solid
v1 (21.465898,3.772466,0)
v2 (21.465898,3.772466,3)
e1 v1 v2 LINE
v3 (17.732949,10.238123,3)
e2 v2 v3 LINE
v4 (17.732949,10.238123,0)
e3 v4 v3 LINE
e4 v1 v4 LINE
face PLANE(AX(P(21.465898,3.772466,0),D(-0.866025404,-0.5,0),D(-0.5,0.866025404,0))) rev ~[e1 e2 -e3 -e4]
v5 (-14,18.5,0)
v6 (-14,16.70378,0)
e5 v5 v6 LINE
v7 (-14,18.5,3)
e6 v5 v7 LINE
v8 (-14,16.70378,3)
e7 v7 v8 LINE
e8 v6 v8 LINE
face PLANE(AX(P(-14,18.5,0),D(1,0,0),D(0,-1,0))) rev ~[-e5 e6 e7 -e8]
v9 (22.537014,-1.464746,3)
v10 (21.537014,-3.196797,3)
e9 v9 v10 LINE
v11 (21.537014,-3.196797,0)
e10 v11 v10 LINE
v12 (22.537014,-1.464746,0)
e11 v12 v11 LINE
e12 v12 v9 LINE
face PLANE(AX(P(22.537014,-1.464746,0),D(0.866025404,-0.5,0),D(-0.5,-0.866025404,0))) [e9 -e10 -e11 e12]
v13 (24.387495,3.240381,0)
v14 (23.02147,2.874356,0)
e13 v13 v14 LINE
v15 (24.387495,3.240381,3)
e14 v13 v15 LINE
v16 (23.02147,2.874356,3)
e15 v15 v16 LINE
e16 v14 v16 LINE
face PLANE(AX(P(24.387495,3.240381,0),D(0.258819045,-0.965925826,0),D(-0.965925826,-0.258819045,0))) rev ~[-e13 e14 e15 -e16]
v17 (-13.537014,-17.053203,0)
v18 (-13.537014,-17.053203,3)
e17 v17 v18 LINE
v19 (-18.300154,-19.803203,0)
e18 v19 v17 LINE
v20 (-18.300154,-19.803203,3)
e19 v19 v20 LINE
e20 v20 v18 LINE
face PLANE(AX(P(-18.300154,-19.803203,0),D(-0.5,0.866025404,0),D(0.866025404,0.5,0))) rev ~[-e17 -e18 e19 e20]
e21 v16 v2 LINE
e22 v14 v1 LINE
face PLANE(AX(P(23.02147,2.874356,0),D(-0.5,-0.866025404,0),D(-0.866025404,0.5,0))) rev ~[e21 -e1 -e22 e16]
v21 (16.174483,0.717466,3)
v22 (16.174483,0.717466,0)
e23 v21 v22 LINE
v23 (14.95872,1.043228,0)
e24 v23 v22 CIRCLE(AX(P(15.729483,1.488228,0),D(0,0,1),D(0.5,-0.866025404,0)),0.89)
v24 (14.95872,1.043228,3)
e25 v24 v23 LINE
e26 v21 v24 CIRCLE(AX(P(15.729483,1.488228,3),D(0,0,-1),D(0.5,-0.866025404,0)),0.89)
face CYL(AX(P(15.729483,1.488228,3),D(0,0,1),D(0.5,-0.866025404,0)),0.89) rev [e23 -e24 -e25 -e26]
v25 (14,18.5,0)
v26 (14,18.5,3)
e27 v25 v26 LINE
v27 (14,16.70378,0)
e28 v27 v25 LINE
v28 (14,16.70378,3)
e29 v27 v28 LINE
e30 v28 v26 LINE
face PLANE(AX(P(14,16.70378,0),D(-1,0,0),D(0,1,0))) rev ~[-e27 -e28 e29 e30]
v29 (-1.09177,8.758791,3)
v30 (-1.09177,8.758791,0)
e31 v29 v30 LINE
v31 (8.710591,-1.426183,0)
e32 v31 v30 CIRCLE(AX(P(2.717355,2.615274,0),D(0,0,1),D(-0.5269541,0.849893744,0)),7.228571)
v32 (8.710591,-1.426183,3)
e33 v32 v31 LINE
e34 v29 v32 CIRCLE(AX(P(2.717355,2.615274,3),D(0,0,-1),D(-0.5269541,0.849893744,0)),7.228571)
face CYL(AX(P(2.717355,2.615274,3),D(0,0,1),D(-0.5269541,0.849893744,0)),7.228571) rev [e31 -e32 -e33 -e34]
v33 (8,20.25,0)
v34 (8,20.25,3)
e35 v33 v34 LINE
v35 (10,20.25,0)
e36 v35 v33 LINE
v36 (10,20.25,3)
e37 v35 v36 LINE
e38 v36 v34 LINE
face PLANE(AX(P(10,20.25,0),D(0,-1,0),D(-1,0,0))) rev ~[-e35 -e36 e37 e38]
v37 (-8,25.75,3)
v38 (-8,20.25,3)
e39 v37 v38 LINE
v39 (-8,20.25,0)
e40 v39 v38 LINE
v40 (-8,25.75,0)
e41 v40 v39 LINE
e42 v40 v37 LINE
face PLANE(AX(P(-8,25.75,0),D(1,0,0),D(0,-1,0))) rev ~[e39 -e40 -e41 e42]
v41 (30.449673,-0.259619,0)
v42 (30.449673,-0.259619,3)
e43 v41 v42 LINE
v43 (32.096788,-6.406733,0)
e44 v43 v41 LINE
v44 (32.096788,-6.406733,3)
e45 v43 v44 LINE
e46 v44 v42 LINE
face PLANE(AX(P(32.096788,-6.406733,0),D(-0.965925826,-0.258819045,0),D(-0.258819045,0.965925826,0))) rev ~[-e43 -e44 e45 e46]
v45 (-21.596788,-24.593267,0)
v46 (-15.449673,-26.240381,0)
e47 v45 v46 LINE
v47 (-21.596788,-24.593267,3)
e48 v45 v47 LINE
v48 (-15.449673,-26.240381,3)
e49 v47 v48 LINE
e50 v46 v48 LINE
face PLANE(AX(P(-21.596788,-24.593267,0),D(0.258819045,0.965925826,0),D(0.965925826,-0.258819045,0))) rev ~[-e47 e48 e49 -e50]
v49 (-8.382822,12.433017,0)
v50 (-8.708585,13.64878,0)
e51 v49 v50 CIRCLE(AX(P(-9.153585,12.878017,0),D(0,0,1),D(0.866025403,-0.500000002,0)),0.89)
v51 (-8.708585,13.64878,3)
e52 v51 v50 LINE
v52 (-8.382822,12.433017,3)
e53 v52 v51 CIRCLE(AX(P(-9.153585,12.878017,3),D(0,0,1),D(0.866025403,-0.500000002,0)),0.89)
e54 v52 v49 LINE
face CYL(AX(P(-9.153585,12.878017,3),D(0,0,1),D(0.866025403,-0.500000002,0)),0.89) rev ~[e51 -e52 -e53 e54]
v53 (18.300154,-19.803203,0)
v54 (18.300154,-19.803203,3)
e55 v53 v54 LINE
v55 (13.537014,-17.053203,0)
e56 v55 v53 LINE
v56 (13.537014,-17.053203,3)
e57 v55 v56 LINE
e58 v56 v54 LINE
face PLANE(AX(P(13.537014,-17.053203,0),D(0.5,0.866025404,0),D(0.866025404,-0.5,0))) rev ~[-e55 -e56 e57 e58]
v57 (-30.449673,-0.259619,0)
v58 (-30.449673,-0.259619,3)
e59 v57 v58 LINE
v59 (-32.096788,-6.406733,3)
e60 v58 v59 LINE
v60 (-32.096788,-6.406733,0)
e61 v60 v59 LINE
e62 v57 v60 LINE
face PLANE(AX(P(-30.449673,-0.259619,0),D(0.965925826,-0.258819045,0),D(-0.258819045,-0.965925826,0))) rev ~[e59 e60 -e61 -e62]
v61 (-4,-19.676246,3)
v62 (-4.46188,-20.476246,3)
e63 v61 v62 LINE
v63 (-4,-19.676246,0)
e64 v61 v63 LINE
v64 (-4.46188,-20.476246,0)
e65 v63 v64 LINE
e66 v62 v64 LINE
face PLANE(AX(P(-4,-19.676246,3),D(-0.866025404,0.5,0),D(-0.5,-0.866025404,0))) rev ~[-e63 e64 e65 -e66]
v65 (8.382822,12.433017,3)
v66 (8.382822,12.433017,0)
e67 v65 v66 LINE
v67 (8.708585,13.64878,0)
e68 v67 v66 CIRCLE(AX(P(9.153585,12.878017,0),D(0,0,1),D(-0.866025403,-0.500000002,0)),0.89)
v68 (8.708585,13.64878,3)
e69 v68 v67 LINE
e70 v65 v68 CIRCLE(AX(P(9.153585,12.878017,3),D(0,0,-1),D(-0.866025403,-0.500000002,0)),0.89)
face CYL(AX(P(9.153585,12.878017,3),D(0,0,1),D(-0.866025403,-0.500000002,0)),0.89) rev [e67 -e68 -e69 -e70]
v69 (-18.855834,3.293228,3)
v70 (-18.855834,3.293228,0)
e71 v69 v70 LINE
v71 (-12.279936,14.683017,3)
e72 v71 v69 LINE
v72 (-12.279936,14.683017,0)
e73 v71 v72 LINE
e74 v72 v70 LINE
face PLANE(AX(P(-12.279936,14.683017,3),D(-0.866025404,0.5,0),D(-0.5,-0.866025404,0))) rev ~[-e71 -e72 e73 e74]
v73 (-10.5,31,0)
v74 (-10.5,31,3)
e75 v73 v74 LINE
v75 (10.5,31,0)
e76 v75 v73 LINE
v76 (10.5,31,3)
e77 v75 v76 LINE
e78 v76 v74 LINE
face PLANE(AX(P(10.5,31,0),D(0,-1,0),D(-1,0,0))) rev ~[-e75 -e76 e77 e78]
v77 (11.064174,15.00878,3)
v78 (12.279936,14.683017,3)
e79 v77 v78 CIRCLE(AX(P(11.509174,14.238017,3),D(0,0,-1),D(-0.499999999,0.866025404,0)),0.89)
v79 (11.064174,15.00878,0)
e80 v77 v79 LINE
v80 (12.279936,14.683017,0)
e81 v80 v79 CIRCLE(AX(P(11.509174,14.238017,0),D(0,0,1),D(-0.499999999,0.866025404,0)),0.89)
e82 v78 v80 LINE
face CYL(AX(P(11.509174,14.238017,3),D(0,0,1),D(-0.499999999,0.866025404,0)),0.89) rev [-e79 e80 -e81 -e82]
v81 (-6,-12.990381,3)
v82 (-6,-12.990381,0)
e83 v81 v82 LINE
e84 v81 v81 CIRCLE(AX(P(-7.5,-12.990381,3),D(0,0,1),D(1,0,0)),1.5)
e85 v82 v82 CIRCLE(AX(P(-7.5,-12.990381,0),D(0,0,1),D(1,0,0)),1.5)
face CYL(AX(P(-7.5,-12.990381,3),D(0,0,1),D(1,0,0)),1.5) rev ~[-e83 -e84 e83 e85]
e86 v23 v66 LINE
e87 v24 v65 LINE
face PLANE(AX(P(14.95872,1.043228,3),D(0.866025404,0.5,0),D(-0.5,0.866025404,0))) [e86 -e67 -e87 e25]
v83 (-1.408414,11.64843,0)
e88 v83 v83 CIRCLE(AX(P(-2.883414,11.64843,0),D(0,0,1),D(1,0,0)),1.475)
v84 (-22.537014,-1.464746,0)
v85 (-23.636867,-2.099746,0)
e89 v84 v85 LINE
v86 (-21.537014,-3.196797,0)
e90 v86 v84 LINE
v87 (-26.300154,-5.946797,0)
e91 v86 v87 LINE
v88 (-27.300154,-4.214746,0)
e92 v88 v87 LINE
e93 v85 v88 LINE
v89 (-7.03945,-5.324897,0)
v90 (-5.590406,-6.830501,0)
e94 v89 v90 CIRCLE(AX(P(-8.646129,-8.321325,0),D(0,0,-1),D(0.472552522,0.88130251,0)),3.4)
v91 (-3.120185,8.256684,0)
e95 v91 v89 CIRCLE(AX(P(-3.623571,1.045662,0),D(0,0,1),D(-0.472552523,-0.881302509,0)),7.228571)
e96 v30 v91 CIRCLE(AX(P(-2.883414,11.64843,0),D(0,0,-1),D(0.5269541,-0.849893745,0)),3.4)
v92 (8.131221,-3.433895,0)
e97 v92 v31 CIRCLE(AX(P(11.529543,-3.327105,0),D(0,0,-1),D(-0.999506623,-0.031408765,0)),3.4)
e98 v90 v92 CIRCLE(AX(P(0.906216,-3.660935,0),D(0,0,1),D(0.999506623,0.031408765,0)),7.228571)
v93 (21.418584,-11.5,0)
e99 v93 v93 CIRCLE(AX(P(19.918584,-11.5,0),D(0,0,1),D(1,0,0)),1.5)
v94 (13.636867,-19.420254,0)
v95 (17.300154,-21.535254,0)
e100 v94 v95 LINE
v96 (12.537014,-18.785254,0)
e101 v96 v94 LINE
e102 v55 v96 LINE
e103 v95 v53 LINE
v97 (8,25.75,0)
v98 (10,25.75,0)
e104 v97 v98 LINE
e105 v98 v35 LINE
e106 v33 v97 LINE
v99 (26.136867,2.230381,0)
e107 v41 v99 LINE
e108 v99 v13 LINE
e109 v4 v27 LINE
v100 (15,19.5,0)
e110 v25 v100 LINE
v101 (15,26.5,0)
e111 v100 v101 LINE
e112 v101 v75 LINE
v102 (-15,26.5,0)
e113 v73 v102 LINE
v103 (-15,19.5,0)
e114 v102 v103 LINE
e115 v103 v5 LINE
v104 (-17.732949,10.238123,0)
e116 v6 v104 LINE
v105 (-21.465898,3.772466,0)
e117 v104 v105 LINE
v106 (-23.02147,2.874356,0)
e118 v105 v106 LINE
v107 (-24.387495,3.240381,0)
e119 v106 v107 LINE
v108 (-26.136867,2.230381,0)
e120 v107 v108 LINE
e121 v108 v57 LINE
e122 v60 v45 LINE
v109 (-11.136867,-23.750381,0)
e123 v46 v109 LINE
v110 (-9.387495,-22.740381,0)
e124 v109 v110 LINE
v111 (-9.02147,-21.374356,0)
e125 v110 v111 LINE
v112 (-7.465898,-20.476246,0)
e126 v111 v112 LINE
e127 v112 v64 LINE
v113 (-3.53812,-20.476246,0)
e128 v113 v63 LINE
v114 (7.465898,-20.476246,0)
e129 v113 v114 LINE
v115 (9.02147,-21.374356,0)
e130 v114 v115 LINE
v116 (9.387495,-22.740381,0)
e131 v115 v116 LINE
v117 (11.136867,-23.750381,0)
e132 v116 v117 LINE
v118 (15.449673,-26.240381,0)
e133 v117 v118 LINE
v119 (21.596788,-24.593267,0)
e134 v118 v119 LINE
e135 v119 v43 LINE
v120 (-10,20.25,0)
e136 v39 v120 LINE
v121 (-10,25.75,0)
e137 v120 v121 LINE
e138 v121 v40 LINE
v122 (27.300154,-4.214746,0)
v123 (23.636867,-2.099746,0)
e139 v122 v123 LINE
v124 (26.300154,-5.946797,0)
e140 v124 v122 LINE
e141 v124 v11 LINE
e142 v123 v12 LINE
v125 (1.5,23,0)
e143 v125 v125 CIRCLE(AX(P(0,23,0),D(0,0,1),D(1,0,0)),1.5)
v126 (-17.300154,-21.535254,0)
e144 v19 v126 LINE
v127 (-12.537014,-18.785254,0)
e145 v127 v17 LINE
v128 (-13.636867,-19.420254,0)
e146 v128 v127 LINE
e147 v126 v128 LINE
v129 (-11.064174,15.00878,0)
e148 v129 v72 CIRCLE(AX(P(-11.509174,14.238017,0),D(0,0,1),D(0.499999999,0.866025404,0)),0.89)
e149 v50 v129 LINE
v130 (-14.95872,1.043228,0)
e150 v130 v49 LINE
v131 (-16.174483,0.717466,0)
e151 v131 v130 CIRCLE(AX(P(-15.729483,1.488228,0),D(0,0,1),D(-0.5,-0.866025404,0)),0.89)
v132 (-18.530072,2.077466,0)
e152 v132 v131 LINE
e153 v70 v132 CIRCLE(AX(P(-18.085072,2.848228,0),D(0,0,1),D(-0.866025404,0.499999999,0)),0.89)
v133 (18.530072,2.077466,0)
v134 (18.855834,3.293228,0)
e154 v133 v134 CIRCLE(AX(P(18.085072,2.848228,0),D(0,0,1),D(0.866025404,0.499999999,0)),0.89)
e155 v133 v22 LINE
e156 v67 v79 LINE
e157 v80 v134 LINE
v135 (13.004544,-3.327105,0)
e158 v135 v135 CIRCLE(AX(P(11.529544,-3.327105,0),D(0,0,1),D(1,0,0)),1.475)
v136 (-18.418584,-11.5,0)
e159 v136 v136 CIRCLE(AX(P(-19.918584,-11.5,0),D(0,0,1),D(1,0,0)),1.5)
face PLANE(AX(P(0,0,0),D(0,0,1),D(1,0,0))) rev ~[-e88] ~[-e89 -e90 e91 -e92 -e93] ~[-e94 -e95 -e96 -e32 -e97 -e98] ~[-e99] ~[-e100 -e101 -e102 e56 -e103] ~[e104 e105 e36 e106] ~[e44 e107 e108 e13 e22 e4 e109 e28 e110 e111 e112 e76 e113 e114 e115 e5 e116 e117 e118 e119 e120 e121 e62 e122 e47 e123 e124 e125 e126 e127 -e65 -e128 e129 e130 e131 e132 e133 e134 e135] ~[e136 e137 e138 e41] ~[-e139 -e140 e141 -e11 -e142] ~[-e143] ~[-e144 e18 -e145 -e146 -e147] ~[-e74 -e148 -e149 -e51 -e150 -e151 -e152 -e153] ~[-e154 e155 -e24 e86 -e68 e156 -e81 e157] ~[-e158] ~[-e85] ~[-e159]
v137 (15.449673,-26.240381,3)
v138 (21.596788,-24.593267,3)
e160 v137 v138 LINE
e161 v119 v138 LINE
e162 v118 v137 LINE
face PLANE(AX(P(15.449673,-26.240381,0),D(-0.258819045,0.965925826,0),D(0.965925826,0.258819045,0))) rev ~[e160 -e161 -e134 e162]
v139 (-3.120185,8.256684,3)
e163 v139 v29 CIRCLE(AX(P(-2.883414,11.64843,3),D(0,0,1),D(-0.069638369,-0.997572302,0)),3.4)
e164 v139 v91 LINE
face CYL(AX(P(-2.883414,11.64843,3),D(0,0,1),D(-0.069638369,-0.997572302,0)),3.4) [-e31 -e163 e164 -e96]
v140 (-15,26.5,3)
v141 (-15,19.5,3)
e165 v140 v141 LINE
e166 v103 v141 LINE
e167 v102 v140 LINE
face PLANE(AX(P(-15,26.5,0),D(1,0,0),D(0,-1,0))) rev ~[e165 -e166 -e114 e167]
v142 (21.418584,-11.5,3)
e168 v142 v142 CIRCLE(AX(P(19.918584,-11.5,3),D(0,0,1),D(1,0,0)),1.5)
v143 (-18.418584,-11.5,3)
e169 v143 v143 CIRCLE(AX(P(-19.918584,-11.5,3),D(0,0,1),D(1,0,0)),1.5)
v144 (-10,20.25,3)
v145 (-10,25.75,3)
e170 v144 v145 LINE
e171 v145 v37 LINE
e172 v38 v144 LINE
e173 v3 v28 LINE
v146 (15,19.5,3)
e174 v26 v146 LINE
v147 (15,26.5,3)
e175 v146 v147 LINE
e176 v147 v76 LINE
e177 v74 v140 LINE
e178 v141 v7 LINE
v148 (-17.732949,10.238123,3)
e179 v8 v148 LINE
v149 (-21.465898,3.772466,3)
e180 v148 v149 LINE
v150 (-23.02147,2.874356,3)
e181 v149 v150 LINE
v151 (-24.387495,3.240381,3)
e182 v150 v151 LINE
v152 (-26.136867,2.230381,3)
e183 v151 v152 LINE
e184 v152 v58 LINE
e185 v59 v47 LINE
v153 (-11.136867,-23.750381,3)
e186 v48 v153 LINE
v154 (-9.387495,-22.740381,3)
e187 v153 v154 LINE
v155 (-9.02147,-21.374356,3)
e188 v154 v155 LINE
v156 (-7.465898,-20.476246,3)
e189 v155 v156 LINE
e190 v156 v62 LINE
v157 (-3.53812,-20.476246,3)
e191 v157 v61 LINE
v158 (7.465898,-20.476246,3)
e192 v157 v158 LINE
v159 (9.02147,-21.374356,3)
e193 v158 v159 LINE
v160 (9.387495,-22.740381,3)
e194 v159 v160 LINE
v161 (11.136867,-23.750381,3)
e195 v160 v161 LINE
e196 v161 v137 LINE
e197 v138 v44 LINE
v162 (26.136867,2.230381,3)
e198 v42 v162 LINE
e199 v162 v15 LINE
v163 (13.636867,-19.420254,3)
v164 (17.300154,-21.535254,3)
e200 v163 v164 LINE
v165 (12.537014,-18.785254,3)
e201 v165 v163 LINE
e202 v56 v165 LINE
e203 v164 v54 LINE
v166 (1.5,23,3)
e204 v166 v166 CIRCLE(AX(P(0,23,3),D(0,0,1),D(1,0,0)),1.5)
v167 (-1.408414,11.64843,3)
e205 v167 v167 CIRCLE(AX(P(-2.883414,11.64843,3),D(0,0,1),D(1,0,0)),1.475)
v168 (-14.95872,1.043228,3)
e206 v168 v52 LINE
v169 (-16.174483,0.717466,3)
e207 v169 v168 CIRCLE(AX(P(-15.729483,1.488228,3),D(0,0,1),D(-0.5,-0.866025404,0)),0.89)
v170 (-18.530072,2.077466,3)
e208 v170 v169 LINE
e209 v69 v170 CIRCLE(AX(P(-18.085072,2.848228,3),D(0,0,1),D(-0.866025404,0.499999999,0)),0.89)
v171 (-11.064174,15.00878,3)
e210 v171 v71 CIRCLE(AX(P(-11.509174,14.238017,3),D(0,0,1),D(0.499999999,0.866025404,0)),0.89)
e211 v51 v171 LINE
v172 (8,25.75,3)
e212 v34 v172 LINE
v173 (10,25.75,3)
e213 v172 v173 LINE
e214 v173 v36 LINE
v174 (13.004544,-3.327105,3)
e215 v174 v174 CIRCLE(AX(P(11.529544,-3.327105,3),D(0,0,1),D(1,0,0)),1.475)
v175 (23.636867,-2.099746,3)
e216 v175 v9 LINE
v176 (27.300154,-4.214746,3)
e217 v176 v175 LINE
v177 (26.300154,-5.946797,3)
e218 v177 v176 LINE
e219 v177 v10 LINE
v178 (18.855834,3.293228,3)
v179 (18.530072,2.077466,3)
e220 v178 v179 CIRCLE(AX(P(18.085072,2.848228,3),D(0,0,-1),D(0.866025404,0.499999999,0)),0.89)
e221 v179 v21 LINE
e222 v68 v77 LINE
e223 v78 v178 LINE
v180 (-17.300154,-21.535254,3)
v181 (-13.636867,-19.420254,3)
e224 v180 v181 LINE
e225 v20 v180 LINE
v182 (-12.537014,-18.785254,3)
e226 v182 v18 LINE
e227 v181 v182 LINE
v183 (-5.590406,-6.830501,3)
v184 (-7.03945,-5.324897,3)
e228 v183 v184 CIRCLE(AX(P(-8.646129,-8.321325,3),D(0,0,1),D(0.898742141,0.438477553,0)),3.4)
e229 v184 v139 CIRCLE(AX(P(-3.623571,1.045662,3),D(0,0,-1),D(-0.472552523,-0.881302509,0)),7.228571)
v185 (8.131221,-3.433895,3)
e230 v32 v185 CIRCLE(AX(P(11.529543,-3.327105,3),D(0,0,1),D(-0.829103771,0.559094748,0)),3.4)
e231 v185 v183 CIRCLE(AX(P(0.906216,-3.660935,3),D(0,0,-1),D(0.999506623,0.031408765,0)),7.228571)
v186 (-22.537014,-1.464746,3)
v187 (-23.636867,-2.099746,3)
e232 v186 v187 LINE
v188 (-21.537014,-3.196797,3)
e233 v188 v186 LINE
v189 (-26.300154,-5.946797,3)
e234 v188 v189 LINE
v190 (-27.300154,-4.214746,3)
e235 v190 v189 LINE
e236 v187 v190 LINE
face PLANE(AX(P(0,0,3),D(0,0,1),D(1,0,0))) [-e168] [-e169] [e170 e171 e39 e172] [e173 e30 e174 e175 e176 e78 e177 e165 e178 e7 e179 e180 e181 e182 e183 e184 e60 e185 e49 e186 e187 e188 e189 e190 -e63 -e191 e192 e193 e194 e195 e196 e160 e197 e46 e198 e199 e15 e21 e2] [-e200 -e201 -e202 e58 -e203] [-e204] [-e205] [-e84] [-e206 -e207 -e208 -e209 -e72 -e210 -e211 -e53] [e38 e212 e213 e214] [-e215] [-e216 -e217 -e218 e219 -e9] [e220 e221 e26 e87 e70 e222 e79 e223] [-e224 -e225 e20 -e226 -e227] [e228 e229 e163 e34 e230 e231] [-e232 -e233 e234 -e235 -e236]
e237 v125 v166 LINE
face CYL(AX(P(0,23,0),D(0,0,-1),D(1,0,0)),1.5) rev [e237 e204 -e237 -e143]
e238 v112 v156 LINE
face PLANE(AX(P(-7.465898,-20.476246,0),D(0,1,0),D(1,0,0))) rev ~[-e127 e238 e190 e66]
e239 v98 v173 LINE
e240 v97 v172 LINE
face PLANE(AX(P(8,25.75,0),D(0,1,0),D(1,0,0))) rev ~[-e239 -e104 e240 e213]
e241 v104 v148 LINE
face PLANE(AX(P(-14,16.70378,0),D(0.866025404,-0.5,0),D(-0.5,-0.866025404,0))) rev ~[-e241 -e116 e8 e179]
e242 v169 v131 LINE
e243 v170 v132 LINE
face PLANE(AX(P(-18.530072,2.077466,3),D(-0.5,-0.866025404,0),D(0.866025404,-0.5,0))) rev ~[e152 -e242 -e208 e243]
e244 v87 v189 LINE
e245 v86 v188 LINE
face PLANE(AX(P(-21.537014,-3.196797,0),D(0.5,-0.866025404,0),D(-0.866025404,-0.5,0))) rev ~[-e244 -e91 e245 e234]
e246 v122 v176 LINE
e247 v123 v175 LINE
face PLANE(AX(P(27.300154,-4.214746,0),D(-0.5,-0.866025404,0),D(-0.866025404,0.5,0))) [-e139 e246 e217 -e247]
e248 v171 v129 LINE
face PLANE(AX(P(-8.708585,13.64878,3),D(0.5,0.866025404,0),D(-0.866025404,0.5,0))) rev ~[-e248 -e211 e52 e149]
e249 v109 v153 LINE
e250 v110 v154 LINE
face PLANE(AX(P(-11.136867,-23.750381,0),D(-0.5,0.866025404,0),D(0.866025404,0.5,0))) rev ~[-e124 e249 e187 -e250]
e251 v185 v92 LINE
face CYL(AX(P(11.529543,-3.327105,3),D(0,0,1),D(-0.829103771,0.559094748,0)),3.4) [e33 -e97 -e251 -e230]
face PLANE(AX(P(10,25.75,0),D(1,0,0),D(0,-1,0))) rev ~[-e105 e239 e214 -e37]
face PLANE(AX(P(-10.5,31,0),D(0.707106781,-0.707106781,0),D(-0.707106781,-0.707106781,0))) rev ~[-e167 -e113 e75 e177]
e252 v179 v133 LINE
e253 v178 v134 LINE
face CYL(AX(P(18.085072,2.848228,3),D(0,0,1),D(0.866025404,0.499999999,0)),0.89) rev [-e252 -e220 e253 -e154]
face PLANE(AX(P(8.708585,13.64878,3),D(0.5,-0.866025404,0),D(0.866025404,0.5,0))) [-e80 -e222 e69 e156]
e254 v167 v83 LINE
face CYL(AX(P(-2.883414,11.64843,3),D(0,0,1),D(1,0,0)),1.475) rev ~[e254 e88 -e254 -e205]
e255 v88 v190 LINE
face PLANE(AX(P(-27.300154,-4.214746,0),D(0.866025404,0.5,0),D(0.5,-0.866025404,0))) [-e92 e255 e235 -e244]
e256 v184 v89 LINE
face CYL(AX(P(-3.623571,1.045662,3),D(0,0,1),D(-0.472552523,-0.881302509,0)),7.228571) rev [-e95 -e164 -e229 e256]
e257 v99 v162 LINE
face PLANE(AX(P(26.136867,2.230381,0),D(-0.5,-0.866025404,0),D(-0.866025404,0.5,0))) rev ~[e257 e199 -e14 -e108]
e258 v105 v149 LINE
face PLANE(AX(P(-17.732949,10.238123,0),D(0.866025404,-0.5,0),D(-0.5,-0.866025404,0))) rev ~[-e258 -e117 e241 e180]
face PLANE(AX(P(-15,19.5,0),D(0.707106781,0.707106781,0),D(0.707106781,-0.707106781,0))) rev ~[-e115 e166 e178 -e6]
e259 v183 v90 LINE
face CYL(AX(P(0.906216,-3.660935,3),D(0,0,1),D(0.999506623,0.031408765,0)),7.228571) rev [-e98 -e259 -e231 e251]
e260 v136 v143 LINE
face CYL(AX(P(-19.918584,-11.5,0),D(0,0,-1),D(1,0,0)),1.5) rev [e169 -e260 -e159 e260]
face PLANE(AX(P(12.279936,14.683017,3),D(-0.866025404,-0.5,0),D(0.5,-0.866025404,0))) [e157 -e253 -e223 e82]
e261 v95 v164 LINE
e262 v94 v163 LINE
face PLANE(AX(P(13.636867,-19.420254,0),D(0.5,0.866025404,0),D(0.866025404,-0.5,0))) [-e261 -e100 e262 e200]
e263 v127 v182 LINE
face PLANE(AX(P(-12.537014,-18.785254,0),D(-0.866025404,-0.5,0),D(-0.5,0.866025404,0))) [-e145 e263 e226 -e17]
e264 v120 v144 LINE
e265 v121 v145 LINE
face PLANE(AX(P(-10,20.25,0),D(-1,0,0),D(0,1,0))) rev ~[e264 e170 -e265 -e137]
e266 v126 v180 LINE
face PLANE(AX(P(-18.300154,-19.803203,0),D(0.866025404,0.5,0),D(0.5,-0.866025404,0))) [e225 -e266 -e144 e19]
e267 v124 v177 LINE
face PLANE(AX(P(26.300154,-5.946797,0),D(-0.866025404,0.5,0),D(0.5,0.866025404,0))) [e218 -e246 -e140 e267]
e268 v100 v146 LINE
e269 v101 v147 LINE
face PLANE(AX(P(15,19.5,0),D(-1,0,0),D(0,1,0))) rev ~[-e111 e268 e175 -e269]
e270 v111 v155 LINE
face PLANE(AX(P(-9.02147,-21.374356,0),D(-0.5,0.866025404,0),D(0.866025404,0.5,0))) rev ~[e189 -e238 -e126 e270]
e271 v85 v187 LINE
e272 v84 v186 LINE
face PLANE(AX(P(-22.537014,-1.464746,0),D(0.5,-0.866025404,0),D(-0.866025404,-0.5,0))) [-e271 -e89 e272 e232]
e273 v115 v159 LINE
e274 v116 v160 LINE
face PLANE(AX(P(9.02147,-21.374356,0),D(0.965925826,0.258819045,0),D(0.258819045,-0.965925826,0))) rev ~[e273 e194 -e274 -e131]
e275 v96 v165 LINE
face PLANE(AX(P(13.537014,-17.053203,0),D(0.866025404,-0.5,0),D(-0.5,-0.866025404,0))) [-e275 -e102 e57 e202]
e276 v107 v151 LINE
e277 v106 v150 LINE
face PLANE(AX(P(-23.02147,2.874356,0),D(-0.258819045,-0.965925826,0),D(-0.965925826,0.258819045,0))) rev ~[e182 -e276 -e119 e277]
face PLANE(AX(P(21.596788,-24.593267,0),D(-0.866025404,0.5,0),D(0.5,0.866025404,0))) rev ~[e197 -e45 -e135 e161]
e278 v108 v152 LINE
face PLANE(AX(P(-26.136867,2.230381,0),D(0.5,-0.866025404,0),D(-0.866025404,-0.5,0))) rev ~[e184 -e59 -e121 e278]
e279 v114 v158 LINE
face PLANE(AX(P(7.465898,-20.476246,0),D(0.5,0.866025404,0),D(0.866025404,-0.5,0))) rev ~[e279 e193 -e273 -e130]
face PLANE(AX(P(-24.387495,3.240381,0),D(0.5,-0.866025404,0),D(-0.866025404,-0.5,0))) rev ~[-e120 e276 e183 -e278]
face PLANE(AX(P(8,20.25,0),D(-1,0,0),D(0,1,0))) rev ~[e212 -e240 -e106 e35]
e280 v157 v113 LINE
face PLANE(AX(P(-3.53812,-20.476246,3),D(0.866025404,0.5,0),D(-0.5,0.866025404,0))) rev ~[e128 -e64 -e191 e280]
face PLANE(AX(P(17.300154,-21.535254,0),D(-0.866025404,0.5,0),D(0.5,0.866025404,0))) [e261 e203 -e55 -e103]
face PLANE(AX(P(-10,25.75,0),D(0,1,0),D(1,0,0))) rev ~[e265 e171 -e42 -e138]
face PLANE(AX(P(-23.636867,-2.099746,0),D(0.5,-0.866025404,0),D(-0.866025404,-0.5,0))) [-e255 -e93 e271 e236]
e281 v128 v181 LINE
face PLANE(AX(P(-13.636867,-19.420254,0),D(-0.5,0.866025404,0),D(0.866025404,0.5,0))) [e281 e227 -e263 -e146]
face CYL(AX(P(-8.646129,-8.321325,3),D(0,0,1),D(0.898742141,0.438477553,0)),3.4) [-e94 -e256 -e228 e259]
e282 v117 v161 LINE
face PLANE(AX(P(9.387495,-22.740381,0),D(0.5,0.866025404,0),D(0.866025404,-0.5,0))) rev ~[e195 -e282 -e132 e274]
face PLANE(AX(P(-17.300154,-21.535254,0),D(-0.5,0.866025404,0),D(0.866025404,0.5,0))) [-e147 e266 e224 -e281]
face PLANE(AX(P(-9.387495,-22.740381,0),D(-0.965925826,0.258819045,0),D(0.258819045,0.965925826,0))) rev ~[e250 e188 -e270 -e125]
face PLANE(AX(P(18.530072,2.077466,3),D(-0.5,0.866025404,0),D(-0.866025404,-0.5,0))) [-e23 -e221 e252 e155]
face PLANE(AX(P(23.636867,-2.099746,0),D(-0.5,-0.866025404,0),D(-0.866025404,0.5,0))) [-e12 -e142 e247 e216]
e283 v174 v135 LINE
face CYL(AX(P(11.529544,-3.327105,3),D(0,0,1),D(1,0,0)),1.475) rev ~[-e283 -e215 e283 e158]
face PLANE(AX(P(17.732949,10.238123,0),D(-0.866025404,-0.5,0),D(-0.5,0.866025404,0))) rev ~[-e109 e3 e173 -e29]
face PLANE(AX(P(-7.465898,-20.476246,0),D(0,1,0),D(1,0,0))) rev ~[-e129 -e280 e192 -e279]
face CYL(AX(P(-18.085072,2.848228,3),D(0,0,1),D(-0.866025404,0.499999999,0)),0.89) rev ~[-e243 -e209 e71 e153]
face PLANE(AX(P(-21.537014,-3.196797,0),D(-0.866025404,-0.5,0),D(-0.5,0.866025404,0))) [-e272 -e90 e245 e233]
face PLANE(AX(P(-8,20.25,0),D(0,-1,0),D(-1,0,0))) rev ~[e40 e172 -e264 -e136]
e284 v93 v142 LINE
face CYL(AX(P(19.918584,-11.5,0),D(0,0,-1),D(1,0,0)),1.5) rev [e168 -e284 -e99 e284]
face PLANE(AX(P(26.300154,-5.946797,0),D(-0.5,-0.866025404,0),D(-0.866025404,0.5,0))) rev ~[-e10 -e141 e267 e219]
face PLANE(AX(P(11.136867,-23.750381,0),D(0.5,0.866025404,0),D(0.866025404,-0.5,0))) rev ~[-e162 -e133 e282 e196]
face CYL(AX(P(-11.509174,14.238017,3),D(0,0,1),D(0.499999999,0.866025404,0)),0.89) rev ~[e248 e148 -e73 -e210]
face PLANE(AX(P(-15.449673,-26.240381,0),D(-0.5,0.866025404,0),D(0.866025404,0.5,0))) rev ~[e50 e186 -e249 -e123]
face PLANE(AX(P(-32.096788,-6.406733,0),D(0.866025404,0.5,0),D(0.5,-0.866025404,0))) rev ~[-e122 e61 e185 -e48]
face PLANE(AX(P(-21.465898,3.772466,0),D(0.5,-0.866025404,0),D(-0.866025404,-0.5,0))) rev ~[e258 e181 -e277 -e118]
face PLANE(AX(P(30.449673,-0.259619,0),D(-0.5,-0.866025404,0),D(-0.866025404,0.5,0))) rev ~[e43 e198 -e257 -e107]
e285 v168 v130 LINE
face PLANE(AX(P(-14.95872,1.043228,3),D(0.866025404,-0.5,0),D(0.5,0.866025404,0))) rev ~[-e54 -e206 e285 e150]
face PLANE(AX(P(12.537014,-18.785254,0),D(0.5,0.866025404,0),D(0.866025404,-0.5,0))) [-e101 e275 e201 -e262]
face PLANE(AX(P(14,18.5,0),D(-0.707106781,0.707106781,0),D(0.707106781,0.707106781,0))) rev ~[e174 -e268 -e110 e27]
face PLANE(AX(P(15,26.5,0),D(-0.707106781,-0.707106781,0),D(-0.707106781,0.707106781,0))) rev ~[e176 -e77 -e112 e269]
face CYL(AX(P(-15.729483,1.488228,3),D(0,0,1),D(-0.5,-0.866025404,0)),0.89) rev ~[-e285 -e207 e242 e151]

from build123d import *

# Parameters (mm, degrees)
SKETCH1_R           = 1.5
BOSS_EXTRUDE1_DEPTH = 3
SKETCH3_R           = 8.6
CUT_EXTRUDE2_DEPTH  = 4
SKETCH4_R           = 1.5
SKETCH4_R_2         = 1.475
CUT_EXTRUDE3_DEPTH  = 4
CUT_EXTRUDE4_DEPTH  = 4
CUT_EXTRUDE6_DEPTH  = 4
CUT_EXTRUDE7_DEPTH  = 4


with BuildPart() as part:
    # Sketch1 → Boss-Extrude1 (new body)
    with BuildSketch(Plane.XY):
        Polygon((0, -20.476245627), (7.465897773, -20.476245627), (9.02146997, -21.374355653), (9.387495374, -22.740381057), (11.136866689, -23.750381057), (15.4496732, -26.240381057), (21.596787517, -24.59326674), (32.096787517, -6.40673326), (30.4496732, -0.259618943), (26.136866689, 2.230381057), (24.387495374, 3.240381057), (23.02146997, 2.874355653), (21.465897773, 3.772465679), (17.732948887, 10.238122813), (14, 16.703779947), (14, 18.5), (15, 19.5), (15, 23), (15, 26.5), (10.5, 31), (-10.5, 31), (-15, 26.5), (-15, 23), (-15, 19.5), (-14, 18.5), (-14, 16.703779947), (-17.732948887, 10.238122813), (-21.465897773, 3.772465679), (-23.02146997, 2.874355653), (-24.387495374, 3.240381057), (-26.136866689, 2.230381057), (-30.4496732, -0.259618943), (-32.096787517, -6.40673326), (-21.596787517, -24.59326674), (-15.4496732, -26.240381057), (-11.136866689, -23.750381057), (-9.387495374, -22.740381057), (-9.02146997, -21.374355653), (-7.465897773, -20.476245627), align=None)
        with Locations((0, 23)):
            Circle(SKETCH1_R, mode=Mode.SUBTRACT)
        with Locations((19.918584287, -11.5)):
            Circle(SKETCH1_R, mode=Mode.SUBTRACT)
        with Locations((-19.918584287, -11.5)):
            Circle(SKETCH1_R, mode=Mode.SUBTRACT)
        Polygon((8, 23), (8, 25.75), (10, 25.75), (10, 23), (10, 20.25), (8, 20.25), align=None, mode=Mode.SUBTRACT)
        Polygon((12.537014427, -18.785254038), (13.636866689, -19.420254038), (17.300154147, -21.535254038), (18.300154147, -19.80320323), (15.918584287, -18.42820323), (13.537014427, -17.05320323), align=None, mode=Mode.SUBTRACT)
        Polygon((-8, 23), (-8, 20.25), (-10, 20.25), (-10, 23), (-10, 25.75), (-8, 25.75), align=None, mode=Mode.SUBTRACT)
        Polygon((27.300154147, -4.214745962), (23.636866689, -2.099745962), (22.537014427, -1.464745962), (21.537014427, -3.19679677), (23.918584287, -4.57179677), (26.300154147, -5.94679677), align=None, mode=Mode.SUBTRACT)
        Polygon((-22.537014427, -1.464745962), (-23.636866689, -2.099745962), (-27.300154147, -4.214745962), (-26.300154147, -5.94679677), (-23.918584287, -4.57179677), (-21.537014427, -3.19679677), align=None, mode=Mode.SUBTRACT)
        Polygon((-17.300154147, -21.535254038), (-13.636866689, -19.420254038), (-12.537014427, -18.785254038), (-13.537014427, -17.05320323), (-15.918584287, -18.42820323), (-18.300154147, -19.80320323), align=None, mode=Mode.SUBTRACT)
    extrude(amount=BOSS_EXTRUDE1_DEPTH)

    # Sketch3 → Cut-Extrude2 (cut, through all)
    with BuildSketch(Plane.XY.offset(3)):
        Circle(SKETCH3_R)
    extrude(amount=-CUT_EXTRUDE2_DEPTH, mode=Mode.SUBTRACT)

    # Sketch4 → Cut-Extrude3 (cut, through all)
    with BuildSketch(Plane.XY.offset(3)):
        with Locations((-7.5, -12.990381057)):
            Circle(SKETCH4_R)
        with Locations((-2.883414438, 11.648429988)):
            Circle(SKETCH4_R_2)
        with Locations((11.529543503, -3.327104841)):
            Circle(SKETCH4_R_2)
    extrude(amount=-CUT_EXTRUDE3_DEPTH, mode=Mode.SUBTRACT)

    # Sketch5 → Cut-Extrude4 (cut, through all)
    with BuildSketch(Plane.XY.offset(3)):
        with BuildLine():
            ThreePointArc((-5.590405789, -6.830501462), (-6.196392496, -5.963616355), (-7.039450485, -5.324896616))
            ThreePointArc((-7.039450485, -5.324896616), (-10.568748211, 3.049846104), (-3.120184892, 8.256684161))
            ThreePointArc((-3.120184892, 8.256684161), (-2.066447014, 8.348041491), (-1.0917705, 8.758791256))
            ThreePointArc((-1.0917705, 8.758791256), (7.925618309, 7.627881385), (8.710590681, -1.4261827))
            ThreePointArc((8.710590681, -1.4261827), (8.26283951, -2.384425136), (8.131220984, -3.433894641))
            ThreePointArc((8.131220984, -3.433894641), (2.643129902, -10.677727489), (-5.590405789, -6.830501462))
        make_face()
    extrude(amount=-CUT_EXTRUDE4_DEPTH, mode=Mode.SUBTRACT)

    # Sketch7 → Cut-Extrude6 (cut, through all)
    with BuildSketch(Plane.XY.offset(3)):
        with BuildLine():
            Line((12.279936491, 14.683017338), (18.855834264, 3.293228289))
            ThreePointArc((18.855834264, 3.293228289), (18.94474564, 2.617879339), (18.530071655, 2.077465679))
            Line((18.530071655, 2.077465679), (16.174482556, 0.717465679))
            ThreePointArc((16.174482556, 0.717465679), (15.499133606, 0.628554303), (14.958719947, 1.043228289))
            Line((14.958719947, 1.043228289), (8.382822174, 12.433017338))
            ThreePointArc((8.382822174, 12.433017338), (8.293910797, 13.108366288), (8.708584783, 13.648779947))
            Line((8.708584783, 13.648779947), (11.064173881, 15.008779947))
            ThreePointArc((11.064173881, 15.008779947), (11.739522831, 15.097691323), (12.279936491, 14.683017338))
        make_face()
        with BuildLine():
            Line((-12.279936491, 14.683017338), (-18.855834264, 3.293228289))
            ThreePointArc((-18.855834264, 3.293228289), (-18.94474564, 2.617879339), (-18.530071655, 2.077465679))
            Line((-18.530071655, 2.077465679), (-16.174482556, 0.717465679))
            ThreePointArc((-16.174482556, 0.717465679), (-15.499133606, 0.628554303), (-14.958719947, 1.043228289))
            Line((-14.958719947, 1.043228289), (-8.382822174, 12.433017338))
            ThreePointArc((-8.382822174, 12.433017338), (-8.293910797, 13.108366288), (-8.708584783, 13.648779947))
            Line((-8.708584783, 13.648779947), (-11.064173881, 15.008779947))
            ThreePointArc((-11.064173881, 15.008779947), (-11.739522831, 15.097691323), (-12.279936491, 14.683017338))
        make_face()
    extrude(amount=-CUT_EXTRUDE6_DEPTH, mode=Mode.SUBTRACT)

    # Sketch8 → Cut-Extrude7 (cut, through all)
    with BuildSketch(Plane.XY.offset(3)):
        Polygon((-3.538119785, -20.476245627), (-4, -19.676245627), (-4.461880215, -20.476245627), align=None)
    extrude(amount=-CUT_EXTRUDE7_DEPTH, mode=Mode.SUBTRACT)


solid = part.part
